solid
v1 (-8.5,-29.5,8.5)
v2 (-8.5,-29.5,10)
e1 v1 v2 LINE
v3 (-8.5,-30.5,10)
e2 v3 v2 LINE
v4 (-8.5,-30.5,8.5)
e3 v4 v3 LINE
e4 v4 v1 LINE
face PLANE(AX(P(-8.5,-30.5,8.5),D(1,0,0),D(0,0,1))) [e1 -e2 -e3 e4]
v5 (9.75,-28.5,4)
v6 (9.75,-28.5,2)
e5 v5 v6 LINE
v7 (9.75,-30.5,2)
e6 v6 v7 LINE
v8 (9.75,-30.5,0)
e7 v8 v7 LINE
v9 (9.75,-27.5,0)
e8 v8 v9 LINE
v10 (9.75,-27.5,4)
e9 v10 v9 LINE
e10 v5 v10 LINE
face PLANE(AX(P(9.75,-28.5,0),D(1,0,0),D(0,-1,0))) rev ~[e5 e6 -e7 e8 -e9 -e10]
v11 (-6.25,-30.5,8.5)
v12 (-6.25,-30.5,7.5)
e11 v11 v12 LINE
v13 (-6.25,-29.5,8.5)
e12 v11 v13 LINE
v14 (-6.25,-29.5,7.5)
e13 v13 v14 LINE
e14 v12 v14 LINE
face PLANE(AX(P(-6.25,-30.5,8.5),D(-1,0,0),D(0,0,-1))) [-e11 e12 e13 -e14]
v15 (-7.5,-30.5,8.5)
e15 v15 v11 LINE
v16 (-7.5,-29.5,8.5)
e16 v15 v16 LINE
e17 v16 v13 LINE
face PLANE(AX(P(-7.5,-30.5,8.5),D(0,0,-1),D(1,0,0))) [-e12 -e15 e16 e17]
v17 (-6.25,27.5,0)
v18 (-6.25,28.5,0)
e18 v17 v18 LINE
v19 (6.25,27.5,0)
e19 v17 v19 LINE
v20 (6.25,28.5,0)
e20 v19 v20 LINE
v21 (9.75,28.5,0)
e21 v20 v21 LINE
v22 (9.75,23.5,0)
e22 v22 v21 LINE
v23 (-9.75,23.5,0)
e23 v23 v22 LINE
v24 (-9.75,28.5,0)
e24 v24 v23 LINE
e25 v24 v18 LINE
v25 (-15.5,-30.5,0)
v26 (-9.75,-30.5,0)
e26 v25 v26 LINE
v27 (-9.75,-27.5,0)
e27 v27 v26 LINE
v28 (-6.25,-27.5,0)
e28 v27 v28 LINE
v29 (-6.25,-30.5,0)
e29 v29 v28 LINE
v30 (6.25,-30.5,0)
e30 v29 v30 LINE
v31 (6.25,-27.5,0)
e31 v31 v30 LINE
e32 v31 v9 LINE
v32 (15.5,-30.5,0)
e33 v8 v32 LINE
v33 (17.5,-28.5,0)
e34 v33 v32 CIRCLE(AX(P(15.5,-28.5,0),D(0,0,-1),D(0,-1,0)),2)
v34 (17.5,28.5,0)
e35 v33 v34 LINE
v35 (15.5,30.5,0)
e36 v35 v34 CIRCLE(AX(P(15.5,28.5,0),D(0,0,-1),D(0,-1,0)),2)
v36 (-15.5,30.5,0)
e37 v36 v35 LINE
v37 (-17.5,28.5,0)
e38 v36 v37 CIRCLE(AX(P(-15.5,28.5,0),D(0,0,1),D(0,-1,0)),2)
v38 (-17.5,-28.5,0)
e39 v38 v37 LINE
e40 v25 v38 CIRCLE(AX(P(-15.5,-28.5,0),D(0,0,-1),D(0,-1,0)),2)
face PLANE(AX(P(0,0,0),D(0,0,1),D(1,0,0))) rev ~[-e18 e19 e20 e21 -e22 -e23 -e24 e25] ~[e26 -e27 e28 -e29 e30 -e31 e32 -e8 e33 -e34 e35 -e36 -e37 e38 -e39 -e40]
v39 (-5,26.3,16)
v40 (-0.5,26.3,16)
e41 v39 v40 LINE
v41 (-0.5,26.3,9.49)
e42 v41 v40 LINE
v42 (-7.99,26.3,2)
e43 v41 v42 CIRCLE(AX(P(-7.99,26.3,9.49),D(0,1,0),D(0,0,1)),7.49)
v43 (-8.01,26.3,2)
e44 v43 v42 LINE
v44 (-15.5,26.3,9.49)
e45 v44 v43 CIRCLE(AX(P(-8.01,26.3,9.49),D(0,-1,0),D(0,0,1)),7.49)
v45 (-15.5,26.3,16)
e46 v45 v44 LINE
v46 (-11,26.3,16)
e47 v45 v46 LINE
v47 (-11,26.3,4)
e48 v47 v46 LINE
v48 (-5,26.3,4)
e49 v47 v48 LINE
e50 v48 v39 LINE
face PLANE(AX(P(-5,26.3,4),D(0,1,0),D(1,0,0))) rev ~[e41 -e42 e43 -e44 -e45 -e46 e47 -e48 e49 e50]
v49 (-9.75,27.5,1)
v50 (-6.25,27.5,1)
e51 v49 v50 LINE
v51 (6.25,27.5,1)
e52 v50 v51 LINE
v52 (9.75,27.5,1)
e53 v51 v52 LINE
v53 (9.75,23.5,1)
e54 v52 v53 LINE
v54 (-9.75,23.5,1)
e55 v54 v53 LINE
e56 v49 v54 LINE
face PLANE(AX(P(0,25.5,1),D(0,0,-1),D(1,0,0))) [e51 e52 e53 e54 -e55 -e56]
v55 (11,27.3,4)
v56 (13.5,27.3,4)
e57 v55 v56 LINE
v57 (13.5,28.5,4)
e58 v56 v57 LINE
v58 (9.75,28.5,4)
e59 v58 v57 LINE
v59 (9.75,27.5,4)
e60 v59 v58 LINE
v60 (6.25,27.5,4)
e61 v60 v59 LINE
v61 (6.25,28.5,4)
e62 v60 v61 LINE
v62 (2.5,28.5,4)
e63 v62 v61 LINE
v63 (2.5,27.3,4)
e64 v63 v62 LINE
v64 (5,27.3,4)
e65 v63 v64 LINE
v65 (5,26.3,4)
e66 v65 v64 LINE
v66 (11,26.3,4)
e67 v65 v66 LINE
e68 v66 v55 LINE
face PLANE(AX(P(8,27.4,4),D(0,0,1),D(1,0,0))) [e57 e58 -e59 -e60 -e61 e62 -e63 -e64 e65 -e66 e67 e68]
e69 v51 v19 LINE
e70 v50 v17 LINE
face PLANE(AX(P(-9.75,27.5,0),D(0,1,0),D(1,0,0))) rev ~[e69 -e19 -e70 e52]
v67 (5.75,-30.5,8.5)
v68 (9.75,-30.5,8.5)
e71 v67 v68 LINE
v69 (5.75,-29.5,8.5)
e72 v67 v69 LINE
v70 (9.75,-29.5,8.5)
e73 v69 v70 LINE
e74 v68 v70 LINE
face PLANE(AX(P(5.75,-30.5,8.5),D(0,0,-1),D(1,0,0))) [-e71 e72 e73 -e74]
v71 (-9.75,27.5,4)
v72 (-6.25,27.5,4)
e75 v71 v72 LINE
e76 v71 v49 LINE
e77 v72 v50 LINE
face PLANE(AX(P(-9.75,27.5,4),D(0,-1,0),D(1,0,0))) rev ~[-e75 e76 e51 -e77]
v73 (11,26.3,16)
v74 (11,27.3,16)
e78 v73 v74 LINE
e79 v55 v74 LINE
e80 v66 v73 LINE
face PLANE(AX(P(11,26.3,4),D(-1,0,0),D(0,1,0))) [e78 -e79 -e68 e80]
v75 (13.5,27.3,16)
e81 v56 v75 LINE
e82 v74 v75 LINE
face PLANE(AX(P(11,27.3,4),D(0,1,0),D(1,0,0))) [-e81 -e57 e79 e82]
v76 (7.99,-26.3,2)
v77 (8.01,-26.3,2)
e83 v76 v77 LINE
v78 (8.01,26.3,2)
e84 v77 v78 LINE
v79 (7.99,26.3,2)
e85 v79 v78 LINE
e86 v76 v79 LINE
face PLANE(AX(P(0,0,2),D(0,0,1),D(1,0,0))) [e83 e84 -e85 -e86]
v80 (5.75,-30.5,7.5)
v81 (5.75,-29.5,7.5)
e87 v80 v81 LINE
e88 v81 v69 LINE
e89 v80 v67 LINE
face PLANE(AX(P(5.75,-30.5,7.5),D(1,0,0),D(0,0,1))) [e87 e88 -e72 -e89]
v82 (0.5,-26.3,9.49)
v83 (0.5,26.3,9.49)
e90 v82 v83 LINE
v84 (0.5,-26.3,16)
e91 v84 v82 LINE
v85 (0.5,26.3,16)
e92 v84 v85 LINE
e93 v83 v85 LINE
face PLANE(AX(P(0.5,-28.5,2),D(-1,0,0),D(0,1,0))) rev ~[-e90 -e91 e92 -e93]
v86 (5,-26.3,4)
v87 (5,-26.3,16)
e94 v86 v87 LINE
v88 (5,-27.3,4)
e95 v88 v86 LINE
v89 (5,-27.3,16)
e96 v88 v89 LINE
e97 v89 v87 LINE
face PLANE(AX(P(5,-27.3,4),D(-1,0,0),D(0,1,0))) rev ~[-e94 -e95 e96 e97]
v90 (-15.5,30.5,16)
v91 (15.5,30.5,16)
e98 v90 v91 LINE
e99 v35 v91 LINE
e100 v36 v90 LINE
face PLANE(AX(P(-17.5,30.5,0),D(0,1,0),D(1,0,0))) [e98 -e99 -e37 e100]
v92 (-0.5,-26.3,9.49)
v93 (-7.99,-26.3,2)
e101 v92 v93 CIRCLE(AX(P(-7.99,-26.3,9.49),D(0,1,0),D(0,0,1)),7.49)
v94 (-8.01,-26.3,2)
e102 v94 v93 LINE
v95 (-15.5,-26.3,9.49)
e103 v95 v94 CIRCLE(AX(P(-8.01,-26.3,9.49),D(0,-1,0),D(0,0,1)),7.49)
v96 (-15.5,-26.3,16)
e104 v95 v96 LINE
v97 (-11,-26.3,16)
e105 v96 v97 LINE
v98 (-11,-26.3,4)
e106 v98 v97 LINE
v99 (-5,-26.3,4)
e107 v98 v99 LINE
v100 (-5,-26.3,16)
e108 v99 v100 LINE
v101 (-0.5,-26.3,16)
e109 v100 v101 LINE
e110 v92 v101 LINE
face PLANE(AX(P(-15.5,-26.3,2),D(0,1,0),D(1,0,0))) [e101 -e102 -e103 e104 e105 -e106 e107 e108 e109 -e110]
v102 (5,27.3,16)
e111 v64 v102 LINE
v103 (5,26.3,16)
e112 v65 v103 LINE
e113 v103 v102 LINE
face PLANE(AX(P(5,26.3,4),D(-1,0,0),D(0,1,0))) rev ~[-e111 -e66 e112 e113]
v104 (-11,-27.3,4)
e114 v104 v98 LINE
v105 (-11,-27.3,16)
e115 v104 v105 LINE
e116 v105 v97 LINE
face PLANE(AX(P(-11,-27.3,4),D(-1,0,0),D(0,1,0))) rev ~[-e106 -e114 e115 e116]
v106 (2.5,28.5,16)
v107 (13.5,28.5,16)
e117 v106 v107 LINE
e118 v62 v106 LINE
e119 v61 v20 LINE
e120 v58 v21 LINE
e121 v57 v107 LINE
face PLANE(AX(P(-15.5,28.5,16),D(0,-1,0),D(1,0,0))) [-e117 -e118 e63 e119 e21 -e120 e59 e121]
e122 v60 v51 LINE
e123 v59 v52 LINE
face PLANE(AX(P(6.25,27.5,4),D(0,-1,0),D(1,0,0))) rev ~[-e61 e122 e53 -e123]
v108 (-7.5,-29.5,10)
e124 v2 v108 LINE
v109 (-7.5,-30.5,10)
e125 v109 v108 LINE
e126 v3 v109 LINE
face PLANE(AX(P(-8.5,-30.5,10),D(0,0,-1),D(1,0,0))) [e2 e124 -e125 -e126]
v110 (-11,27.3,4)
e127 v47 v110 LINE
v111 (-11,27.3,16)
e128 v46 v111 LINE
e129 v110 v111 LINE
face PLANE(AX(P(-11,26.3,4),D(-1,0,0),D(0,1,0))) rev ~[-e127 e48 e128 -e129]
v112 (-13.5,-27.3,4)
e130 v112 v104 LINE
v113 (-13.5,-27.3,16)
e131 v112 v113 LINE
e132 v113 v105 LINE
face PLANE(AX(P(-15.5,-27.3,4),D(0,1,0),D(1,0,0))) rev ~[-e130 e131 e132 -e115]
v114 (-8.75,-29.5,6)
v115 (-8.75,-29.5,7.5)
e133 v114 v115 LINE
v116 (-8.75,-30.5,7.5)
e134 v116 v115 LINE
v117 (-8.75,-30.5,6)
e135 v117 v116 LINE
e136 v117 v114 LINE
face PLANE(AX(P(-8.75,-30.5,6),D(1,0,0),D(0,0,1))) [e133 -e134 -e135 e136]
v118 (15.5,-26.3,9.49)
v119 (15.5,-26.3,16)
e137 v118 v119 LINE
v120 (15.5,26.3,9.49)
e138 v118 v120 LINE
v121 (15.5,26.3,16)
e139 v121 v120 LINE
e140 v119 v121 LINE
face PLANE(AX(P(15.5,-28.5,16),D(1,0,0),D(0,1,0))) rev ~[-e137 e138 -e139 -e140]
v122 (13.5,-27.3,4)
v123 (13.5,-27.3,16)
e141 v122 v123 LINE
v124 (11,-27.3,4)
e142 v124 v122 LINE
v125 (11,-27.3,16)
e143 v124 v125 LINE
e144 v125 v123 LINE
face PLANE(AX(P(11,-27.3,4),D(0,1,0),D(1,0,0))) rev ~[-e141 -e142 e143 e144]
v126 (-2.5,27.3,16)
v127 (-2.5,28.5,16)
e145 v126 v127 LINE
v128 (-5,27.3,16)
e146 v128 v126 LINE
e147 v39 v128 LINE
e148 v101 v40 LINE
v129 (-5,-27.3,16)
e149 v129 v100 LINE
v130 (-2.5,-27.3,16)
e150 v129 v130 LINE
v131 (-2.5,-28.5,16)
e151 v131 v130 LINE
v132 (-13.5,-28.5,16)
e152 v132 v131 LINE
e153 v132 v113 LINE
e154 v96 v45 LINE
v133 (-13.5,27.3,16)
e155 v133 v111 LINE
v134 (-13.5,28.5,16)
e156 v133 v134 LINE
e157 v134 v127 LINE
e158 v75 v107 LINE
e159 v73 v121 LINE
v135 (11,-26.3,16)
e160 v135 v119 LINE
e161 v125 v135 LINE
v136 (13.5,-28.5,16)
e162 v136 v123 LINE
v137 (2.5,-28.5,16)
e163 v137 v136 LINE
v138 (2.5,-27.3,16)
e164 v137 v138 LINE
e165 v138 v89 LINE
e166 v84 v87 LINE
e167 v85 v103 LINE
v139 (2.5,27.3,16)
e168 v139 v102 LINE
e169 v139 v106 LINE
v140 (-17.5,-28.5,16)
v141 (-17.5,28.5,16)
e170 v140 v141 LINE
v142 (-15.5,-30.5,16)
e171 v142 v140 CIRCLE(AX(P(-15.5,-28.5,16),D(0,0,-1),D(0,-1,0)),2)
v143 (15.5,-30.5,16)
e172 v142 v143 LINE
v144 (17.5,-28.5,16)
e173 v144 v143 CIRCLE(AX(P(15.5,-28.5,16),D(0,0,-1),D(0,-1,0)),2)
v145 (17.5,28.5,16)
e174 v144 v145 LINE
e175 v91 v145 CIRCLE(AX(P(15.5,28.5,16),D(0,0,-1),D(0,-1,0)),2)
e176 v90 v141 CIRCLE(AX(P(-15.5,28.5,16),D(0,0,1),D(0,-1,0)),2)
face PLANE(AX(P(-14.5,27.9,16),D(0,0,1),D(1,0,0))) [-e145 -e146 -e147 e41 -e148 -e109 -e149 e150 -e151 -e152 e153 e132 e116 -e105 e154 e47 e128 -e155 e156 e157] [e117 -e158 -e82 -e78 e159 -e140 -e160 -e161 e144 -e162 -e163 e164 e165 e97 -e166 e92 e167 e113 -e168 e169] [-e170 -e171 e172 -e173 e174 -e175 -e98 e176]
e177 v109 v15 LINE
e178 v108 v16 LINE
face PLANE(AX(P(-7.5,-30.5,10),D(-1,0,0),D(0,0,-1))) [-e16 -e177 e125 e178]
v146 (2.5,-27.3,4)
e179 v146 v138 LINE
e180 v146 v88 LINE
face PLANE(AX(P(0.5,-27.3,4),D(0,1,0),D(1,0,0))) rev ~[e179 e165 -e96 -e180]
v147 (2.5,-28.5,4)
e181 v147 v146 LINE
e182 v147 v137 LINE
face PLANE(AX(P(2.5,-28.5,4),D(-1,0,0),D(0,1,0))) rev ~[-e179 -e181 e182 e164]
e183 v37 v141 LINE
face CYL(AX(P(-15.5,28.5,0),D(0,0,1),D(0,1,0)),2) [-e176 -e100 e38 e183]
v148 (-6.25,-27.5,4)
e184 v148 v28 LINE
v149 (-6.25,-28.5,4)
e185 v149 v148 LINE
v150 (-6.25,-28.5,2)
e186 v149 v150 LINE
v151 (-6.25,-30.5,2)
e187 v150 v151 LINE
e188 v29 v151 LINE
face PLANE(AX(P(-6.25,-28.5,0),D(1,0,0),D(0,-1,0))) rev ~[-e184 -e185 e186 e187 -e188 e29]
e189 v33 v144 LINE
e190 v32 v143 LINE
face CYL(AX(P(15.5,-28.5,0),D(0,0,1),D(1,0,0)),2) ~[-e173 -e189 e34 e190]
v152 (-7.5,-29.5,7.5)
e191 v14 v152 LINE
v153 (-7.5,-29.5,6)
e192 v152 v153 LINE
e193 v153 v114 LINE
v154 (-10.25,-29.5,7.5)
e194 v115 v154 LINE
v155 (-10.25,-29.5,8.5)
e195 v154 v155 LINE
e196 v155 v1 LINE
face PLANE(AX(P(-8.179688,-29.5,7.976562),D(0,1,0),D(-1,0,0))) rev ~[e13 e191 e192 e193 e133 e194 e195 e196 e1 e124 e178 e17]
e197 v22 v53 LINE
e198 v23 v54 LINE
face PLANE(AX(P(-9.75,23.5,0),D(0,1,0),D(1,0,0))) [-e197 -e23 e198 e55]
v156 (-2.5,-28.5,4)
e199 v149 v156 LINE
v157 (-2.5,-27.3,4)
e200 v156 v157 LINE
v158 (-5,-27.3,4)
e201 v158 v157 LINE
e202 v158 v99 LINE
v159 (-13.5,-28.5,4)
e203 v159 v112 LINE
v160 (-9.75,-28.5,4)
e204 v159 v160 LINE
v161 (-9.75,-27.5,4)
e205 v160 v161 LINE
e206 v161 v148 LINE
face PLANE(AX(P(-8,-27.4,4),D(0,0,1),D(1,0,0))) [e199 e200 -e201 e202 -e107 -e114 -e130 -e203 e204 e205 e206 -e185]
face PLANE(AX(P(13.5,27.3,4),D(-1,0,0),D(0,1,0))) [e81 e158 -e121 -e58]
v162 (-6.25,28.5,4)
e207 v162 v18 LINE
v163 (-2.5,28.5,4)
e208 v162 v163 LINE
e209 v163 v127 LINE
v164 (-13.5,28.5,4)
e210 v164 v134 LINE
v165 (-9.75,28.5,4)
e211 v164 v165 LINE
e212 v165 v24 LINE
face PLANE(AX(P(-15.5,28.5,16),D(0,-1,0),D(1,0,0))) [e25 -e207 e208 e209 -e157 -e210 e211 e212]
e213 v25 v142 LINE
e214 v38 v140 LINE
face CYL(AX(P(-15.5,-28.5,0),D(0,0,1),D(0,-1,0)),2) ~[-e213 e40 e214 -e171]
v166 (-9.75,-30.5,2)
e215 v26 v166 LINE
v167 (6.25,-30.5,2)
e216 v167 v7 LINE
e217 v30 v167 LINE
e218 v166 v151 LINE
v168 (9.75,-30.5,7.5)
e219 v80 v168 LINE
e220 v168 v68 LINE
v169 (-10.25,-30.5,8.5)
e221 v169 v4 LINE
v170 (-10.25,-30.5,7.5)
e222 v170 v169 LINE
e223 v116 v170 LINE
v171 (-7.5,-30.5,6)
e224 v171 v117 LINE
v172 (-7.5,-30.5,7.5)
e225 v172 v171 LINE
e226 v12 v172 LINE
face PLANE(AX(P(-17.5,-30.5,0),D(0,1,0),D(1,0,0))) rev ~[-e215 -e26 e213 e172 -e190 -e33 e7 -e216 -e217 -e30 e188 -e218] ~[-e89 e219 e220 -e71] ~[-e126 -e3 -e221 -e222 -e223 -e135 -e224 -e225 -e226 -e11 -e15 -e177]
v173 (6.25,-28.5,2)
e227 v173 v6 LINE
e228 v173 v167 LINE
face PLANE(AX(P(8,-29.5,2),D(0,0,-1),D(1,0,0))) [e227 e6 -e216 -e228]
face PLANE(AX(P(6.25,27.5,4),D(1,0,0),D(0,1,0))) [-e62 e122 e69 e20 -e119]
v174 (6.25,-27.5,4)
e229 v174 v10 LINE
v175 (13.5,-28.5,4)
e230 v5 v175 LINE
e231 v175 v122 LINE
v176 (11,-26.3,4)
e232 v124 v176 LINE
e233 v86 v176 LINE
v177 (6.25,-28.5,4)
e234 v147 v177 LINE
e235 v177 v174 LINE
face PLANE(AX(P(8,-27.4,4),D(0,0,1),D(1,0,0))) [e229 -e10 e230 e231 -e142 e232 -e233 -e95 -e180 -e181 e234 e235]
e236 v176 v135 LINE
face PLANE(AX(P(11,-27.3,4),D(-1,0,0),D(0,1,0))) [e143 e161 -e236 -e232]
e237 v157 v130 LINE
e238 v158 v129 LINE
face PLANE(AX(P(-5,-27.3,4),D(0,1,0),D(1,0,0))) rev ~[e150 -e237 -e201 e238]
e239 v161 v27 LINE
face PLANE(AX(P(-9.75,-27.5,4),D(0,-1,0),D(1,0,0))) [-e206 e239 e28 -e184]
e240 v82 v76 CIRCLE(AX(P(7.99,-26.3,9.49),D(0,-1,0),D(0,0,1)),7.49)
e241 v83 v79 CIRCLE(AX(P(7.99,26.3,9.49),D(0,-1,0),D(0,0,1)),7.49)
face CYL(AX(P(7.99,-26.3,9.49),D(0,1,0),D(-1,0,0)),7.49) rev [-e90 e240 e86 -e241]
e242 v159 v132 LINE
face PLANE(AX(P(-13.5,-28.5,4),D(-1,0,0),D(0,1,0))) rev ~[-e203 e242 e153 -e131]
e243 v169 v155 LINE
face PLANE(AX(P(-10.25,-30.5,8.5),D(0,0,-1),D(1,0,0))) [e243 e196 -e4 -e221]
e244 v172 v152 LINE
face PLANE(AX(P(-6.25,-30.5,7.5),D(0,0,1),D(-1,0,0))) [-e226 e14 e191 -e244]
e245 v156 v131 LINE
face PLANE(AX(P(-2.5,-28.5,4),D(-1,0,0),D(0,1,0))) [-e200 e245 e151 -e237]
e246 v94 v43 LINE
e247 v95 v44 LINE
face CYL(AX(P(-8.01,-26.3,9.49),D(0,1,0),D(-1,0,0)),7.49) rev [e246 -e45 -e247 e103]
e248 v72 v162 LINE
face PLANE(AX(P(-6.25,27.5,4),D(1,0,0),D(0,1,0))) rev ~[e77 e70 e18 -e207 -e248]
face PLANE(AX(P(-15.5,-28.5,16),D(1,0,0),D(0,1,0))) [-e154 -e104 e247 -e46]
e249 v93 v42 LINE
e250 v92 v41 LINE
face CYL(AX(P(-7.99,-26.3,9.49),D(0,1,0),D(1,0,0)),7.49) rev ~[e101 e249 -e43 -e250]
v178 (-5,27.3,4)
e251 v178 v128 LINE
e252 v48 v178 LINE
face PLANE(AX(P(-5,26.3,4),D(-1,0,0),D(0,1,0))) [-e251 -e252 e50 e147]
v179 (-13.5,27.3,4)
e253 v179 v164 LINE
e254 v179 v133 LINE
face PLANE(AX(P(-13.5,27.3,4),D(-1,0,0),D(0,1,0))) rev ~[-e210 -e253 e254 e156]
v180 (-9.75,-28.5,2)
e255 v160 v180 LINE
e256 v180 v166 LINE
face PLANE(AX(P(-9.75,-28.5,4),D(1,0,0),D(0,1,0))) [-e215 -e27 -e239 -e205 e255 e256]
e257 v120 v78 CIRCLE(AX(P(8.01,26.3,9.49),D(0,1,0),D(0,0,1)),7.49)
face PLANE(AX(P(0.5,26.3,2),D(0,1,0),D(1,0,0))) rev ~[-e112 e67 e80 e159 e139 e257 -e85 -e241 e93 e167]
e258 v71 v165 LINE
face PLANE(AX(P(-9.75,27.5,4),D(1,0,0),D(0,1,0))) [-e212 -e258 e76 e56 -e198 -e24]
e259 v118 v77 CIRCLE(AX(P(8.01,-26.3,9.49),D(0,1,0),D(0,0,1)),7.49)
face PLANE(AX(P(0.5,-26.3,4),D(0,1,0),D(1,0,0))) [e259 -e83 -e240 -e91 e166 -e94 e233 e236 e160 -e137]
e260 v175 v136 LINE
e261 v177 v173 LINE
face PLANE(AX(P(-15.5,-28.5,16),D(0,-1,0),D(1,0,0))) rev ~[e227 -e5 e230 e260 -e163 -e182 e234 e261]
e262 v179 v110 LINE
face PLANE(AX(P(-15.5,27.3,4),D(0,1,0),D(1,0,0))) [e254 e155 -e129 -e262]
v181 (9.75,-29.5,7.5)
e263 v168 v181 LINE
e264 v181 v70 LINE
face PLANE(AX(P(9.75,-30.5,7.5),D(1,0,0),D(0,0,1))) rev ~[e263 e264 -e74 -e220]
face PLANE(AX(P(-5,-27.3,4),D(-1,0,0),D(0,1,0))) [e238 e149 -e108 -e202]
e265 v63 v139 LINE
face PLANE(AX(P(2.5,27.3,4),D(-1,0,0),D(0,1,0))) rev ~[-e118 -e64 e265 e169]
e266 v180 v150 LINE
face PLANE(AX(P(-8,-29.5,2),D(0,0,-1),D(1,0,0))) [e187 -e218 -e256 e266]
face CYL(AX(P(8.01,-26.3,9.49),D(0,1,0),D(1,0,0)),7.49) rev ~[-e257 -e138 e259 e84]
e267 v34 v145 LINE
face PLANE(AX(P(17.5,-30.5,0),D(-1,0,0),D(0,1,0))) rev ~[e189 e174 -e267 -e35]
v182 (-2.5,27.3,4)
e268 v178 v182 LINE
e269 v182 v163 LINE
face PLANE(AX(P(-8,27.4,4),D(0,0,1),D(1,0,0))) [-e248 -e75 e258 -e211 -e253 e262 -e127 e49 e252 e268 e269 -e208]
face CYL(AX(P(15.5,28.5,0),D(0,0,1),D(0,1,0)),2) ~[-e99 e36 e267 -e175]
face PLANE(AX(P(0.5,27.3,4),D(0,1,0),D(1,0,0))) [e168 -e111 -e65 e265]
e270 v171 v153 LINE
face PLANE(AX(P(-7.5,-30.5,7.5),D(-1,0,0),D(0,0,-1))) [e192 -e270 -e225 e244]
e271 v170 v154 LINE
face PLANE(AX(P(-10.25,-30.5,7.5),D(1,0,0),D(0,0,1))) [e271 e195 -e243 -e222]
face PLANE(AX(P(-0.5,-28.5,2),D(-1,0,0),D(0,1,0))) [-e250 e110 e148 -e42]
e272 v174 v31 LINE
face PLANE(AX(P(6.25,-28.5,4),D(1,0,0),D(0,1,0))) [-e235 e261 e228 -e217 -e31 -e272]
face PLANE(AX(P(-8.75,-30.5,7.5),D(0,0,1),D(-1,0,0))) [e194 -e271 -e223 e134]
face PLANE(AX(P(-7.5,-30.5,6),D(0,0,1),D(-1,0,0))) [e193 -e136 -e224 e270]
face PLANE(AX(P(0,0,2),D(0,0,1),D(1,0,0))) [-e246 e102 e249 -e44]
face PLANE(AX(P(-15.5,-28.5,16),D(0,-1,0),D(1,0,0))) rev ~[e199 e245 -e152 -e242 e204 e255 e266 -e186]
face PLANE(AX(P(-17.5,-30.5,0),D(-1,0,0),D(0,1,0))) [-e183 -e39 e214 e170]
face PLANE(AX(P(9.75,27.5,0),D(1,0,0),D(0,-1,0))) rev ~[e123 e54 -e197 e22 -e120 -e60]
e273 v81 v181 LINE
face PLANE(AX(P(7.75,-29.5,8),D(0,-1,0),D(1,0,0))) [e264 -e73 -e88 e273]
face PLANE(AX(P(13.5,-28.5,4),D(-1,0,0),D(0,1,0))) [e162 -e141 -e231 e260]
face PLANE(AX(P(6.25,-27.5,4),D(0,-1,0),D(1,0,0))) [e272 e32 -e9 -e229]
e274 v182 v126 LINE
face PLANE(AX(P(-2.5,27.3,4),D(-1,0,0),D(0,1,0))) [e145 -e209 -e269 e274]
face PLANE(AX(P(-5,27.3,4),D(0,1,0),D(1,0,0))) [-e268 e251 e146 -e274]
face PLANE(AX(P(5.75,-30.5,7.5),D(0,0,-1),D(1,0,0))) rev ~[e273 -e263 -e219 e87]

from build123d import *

# Parameters (mm, degrees)
SKETCH_W        = 35
SKETCH_H        = 61
PAD_DEPTH       = 16
SKETCH001_W     = 31
SKETCH001_H     = 57
POCKET_DEPTH    = 14
SKETCH002_W     = 1
SKETCH002_H     = 57
PAD001_DEPTH    = 14
SKETCH003_W     = 15
SKETCH003_H     = 2.2
PAD002_DEPTH    = 2
SKETCH004_W     = 3.5
SKETCH004_H     = 1
POCKET001_DEPTH = 5
SKETCH005_W     = 4.5
SKETCH005_H     = 1
PAD003_DEPTH    = 12
FILLET_R        = 2
FILLET001_R     = 7.49
SKETCH006_W     = 2
SKETCH006_H     = 1.2
PAD004_DEPTH    = 12
SKETCH007_W     = 3.5
SKETCH007_H     = 2
POCKET002_DEPTH = 2
SKETCH008_W     = 4
SKETCH008_H     = 1
POCKET003_DEPTH = 1
SKETCH009_W     = 19.5
SKETCH009_H     = 4
POCKET004_DEPTH = 1


with BuildPart() as part:
    # Sketch → Pad (new body)
    with BuildSketch(Plane.XY):
        Rectangle(SKETCH_W, SKETCH_H)
    extrude(amount=PAD_DEPTH)

    # Sketch001 (on Face6 of Pad) → Pocket (cut)
    with BuildSketch(Plane.XY.offset(16)):
        Rectangle(SKETCH001_W, SKETCH001_H)
    extrude(amount=-POCKET_DEPTH, mode=Mode.SUBTRACT)

    # Sketch002 (on Face11 of Pocket) → Pad001 (join)
    with BuildSketch(Plane.XY.offset(2)):
        Rectangle(SKETCH002_W, SKETCH002_H)
    extrude(amount=PAD001_DEPTH)

    # Sketch003 (on Face17 of Pad001) → Pad002 (join)
    with BuildSketch(Plane.XY.offset(2)):
        with Locations((8, 27.4)):
            Rectangle(SKETCH003_W, SKETCH003_H)
        with Locations((-8, 27.4)):
            Rectangle(SKETCH003_W, SKETCH003_H)
        with Locations((8, -27.4)):
            Rectangle(SKETCH003_W, SKETCH003_H)
        with Locations((-8, -27.4)):
            Rectangle(SKETCH003_W, SKETCH003_H)
    extrude(amount=PAD002_DEPTH)

    # Sketch004 (on Face22 of Pad002) → Pocket001 (cut)
    with BuildSketch(Plane.XY.offset(4)):
        with Locations((8, 28)):
            Rectangle(SKETCH004_W, SKETCH004_H)
        with Locations((-8, 28)):
            Rectangle(SKETCH004_W, SKETCH004_H)
        with Locations((8, -28)):
            Rectangle(SKETCH004_W, SKETCH004_H)
        with Locations((-8, -28)):
            Rectangle(SKETCH004_W, SKETCH004_H)
    extrude(amount=-POCKET001_DEPTH, mode=Mode.SUBTRACT)

    # Sketch005 (on Face30 of Pocket001) → Pad003 (join)
    with BuildSketch(Plane.XY.offset(4)):
        with Locations((-2.75, 26.8)):
            Rectangle(SKETCH005_W, SKETCH005_H)
        with Locations((-13.25, 26.8)):
            Rectangle(SKETCH005_W, SKETCH005_H)
        with Locations((2.75, 26.8)):
            Rectangle(SKETCH005_W, SKETCH005_H)
        with Locations((13.25, 26.8)):
            Rectangle(SKETCH005_W, SKETCH005_H)
        with Locations((13.25, -26.8)):
            Rectangle(SKETCH005_W, SKETCH005_H)
        with Locations((-13.25, -26.8)):
            Rectangle(SKETCH005_W, SKETCH005_H)
        with Locations((-2.75, -26.8)):
            Rectangle(SKETCH005_W, SKETCH005_H)
        with Locations((2.75, -26.8)):
            Rectangle(SKETCH005_W, SKETCH005_H)
    extrude(amount=PAD003_DEPTH)

    # Fillet
    fillet_edges = [part.edges().sort_by_distance(p)[0] for p in [
        (-17.5, 30.5, 8),
        (17.5, 30.5, 8),
        (17.5, -30.5, 8),
        (-17.5, -30.5, 8),
    ]]
    fillet(fillet_edges, radius=FILLET_R)

    # Fillet001
    fillet001_edges = [part.edges().sort_by_distance(p)[0] for p in [
        (-15.5, 0, 2),
        (-0.5, 0, 2),
        (0.5, 0, 2),
        (15.5, 0, 2),
    ]]
    fillet(fillet001_edges, radius=FILLET001_R)

    # Sketch006 (on Face36 of Fillet001) → Pad004 (join)
    with BuildSketch(Plane.XY.offset(4)):
        with Locations((-14.5, 27.9)):
            Rectangle(SKETCH006_W, SKETCH006_H)
        with Locations((-1.5, 27.9)):
            Rectangle(SKETCH006_W, SKETCH006_H)
        with Locations((1.5, 27.9)):
            Rectangle(SKETCH006_W, SKETCH006_H)
        with Locations((14.5, 27.9)):
            Rectangle(SKETCH006_W, SKETCH006_H)
        with Locations((14.5, -27.9)):
            Rectangle(SKETCH006_W, SKETCH006_H)
        with Locations((1.5, -27.9)):
            Rectangle(SKETCH006_W, SKETCH006_H)
        with Locations((-1.5, -27.9)):
            Rectangle(SKETCH006_W, SKETCH006_H)
        with Locations((-14.5, -27.9)):
            Rectangle(SKETCH006_W, SKETCH006_H)
    extrude(amount=PAD004_DEPTH)

    # Sketch007 (on Face2 of Fillet) → Pocket002 (cut)
    with BuildSketch(Plane(origin=(0, 0, 0), x_dir=(1, 0, 0), z_dir=(0, 0, -1))):
        with Locations((-8, 29.5)):
            Rectangle(SKETCH007_W, SKETCH007_H)
        with Locations((8, 29.5)):
            Rectangle(SKETCH007_W, SKETCH007_H)
    extrude(amount=-POCKET002_DEPTH, mode=Mode.SUBTRACT)

    # Sketch008 (on Face14 of Pocket002) → Pocket003 (cut)
    with BuildSketch(Plane.XZ.offset(30.5)):
        Polygon((-10.25, 8.5), (-8.5, 8.5), (-8.5, 10), (-7.5, 10), (-7.5, 8.5), (-6.25, 8.5), (-6.25, 7.5), (-7.5, 7.5), (-7.5, 6), (-8.75, 6), (-8.75, 7.5), (-10.25, 7.5), align=None)
        with Locations((7.75, 8)):
            Rectangle(SKETCH008_W, SKETCH008_H)
    extrude(amount=-POCKET003_DEPTH, mode=Mode.SUBTRACT)

    # Sketch009 (on Face43 of Pocket003) → Pocket004 (cut)
    with BuildSketch(Plane(origin=(0, 0, 0), x_dir=(1, 0, 0), z_dir=(0, 0, -1))):
        with Locations((0, -25.5)):
            Rectangle(SKETCH009_W, SKETCH009_H)
    extrude(amount=-POCKET004_DEPTH, mode=Mode.SUBTRACT)


solid = part.part
